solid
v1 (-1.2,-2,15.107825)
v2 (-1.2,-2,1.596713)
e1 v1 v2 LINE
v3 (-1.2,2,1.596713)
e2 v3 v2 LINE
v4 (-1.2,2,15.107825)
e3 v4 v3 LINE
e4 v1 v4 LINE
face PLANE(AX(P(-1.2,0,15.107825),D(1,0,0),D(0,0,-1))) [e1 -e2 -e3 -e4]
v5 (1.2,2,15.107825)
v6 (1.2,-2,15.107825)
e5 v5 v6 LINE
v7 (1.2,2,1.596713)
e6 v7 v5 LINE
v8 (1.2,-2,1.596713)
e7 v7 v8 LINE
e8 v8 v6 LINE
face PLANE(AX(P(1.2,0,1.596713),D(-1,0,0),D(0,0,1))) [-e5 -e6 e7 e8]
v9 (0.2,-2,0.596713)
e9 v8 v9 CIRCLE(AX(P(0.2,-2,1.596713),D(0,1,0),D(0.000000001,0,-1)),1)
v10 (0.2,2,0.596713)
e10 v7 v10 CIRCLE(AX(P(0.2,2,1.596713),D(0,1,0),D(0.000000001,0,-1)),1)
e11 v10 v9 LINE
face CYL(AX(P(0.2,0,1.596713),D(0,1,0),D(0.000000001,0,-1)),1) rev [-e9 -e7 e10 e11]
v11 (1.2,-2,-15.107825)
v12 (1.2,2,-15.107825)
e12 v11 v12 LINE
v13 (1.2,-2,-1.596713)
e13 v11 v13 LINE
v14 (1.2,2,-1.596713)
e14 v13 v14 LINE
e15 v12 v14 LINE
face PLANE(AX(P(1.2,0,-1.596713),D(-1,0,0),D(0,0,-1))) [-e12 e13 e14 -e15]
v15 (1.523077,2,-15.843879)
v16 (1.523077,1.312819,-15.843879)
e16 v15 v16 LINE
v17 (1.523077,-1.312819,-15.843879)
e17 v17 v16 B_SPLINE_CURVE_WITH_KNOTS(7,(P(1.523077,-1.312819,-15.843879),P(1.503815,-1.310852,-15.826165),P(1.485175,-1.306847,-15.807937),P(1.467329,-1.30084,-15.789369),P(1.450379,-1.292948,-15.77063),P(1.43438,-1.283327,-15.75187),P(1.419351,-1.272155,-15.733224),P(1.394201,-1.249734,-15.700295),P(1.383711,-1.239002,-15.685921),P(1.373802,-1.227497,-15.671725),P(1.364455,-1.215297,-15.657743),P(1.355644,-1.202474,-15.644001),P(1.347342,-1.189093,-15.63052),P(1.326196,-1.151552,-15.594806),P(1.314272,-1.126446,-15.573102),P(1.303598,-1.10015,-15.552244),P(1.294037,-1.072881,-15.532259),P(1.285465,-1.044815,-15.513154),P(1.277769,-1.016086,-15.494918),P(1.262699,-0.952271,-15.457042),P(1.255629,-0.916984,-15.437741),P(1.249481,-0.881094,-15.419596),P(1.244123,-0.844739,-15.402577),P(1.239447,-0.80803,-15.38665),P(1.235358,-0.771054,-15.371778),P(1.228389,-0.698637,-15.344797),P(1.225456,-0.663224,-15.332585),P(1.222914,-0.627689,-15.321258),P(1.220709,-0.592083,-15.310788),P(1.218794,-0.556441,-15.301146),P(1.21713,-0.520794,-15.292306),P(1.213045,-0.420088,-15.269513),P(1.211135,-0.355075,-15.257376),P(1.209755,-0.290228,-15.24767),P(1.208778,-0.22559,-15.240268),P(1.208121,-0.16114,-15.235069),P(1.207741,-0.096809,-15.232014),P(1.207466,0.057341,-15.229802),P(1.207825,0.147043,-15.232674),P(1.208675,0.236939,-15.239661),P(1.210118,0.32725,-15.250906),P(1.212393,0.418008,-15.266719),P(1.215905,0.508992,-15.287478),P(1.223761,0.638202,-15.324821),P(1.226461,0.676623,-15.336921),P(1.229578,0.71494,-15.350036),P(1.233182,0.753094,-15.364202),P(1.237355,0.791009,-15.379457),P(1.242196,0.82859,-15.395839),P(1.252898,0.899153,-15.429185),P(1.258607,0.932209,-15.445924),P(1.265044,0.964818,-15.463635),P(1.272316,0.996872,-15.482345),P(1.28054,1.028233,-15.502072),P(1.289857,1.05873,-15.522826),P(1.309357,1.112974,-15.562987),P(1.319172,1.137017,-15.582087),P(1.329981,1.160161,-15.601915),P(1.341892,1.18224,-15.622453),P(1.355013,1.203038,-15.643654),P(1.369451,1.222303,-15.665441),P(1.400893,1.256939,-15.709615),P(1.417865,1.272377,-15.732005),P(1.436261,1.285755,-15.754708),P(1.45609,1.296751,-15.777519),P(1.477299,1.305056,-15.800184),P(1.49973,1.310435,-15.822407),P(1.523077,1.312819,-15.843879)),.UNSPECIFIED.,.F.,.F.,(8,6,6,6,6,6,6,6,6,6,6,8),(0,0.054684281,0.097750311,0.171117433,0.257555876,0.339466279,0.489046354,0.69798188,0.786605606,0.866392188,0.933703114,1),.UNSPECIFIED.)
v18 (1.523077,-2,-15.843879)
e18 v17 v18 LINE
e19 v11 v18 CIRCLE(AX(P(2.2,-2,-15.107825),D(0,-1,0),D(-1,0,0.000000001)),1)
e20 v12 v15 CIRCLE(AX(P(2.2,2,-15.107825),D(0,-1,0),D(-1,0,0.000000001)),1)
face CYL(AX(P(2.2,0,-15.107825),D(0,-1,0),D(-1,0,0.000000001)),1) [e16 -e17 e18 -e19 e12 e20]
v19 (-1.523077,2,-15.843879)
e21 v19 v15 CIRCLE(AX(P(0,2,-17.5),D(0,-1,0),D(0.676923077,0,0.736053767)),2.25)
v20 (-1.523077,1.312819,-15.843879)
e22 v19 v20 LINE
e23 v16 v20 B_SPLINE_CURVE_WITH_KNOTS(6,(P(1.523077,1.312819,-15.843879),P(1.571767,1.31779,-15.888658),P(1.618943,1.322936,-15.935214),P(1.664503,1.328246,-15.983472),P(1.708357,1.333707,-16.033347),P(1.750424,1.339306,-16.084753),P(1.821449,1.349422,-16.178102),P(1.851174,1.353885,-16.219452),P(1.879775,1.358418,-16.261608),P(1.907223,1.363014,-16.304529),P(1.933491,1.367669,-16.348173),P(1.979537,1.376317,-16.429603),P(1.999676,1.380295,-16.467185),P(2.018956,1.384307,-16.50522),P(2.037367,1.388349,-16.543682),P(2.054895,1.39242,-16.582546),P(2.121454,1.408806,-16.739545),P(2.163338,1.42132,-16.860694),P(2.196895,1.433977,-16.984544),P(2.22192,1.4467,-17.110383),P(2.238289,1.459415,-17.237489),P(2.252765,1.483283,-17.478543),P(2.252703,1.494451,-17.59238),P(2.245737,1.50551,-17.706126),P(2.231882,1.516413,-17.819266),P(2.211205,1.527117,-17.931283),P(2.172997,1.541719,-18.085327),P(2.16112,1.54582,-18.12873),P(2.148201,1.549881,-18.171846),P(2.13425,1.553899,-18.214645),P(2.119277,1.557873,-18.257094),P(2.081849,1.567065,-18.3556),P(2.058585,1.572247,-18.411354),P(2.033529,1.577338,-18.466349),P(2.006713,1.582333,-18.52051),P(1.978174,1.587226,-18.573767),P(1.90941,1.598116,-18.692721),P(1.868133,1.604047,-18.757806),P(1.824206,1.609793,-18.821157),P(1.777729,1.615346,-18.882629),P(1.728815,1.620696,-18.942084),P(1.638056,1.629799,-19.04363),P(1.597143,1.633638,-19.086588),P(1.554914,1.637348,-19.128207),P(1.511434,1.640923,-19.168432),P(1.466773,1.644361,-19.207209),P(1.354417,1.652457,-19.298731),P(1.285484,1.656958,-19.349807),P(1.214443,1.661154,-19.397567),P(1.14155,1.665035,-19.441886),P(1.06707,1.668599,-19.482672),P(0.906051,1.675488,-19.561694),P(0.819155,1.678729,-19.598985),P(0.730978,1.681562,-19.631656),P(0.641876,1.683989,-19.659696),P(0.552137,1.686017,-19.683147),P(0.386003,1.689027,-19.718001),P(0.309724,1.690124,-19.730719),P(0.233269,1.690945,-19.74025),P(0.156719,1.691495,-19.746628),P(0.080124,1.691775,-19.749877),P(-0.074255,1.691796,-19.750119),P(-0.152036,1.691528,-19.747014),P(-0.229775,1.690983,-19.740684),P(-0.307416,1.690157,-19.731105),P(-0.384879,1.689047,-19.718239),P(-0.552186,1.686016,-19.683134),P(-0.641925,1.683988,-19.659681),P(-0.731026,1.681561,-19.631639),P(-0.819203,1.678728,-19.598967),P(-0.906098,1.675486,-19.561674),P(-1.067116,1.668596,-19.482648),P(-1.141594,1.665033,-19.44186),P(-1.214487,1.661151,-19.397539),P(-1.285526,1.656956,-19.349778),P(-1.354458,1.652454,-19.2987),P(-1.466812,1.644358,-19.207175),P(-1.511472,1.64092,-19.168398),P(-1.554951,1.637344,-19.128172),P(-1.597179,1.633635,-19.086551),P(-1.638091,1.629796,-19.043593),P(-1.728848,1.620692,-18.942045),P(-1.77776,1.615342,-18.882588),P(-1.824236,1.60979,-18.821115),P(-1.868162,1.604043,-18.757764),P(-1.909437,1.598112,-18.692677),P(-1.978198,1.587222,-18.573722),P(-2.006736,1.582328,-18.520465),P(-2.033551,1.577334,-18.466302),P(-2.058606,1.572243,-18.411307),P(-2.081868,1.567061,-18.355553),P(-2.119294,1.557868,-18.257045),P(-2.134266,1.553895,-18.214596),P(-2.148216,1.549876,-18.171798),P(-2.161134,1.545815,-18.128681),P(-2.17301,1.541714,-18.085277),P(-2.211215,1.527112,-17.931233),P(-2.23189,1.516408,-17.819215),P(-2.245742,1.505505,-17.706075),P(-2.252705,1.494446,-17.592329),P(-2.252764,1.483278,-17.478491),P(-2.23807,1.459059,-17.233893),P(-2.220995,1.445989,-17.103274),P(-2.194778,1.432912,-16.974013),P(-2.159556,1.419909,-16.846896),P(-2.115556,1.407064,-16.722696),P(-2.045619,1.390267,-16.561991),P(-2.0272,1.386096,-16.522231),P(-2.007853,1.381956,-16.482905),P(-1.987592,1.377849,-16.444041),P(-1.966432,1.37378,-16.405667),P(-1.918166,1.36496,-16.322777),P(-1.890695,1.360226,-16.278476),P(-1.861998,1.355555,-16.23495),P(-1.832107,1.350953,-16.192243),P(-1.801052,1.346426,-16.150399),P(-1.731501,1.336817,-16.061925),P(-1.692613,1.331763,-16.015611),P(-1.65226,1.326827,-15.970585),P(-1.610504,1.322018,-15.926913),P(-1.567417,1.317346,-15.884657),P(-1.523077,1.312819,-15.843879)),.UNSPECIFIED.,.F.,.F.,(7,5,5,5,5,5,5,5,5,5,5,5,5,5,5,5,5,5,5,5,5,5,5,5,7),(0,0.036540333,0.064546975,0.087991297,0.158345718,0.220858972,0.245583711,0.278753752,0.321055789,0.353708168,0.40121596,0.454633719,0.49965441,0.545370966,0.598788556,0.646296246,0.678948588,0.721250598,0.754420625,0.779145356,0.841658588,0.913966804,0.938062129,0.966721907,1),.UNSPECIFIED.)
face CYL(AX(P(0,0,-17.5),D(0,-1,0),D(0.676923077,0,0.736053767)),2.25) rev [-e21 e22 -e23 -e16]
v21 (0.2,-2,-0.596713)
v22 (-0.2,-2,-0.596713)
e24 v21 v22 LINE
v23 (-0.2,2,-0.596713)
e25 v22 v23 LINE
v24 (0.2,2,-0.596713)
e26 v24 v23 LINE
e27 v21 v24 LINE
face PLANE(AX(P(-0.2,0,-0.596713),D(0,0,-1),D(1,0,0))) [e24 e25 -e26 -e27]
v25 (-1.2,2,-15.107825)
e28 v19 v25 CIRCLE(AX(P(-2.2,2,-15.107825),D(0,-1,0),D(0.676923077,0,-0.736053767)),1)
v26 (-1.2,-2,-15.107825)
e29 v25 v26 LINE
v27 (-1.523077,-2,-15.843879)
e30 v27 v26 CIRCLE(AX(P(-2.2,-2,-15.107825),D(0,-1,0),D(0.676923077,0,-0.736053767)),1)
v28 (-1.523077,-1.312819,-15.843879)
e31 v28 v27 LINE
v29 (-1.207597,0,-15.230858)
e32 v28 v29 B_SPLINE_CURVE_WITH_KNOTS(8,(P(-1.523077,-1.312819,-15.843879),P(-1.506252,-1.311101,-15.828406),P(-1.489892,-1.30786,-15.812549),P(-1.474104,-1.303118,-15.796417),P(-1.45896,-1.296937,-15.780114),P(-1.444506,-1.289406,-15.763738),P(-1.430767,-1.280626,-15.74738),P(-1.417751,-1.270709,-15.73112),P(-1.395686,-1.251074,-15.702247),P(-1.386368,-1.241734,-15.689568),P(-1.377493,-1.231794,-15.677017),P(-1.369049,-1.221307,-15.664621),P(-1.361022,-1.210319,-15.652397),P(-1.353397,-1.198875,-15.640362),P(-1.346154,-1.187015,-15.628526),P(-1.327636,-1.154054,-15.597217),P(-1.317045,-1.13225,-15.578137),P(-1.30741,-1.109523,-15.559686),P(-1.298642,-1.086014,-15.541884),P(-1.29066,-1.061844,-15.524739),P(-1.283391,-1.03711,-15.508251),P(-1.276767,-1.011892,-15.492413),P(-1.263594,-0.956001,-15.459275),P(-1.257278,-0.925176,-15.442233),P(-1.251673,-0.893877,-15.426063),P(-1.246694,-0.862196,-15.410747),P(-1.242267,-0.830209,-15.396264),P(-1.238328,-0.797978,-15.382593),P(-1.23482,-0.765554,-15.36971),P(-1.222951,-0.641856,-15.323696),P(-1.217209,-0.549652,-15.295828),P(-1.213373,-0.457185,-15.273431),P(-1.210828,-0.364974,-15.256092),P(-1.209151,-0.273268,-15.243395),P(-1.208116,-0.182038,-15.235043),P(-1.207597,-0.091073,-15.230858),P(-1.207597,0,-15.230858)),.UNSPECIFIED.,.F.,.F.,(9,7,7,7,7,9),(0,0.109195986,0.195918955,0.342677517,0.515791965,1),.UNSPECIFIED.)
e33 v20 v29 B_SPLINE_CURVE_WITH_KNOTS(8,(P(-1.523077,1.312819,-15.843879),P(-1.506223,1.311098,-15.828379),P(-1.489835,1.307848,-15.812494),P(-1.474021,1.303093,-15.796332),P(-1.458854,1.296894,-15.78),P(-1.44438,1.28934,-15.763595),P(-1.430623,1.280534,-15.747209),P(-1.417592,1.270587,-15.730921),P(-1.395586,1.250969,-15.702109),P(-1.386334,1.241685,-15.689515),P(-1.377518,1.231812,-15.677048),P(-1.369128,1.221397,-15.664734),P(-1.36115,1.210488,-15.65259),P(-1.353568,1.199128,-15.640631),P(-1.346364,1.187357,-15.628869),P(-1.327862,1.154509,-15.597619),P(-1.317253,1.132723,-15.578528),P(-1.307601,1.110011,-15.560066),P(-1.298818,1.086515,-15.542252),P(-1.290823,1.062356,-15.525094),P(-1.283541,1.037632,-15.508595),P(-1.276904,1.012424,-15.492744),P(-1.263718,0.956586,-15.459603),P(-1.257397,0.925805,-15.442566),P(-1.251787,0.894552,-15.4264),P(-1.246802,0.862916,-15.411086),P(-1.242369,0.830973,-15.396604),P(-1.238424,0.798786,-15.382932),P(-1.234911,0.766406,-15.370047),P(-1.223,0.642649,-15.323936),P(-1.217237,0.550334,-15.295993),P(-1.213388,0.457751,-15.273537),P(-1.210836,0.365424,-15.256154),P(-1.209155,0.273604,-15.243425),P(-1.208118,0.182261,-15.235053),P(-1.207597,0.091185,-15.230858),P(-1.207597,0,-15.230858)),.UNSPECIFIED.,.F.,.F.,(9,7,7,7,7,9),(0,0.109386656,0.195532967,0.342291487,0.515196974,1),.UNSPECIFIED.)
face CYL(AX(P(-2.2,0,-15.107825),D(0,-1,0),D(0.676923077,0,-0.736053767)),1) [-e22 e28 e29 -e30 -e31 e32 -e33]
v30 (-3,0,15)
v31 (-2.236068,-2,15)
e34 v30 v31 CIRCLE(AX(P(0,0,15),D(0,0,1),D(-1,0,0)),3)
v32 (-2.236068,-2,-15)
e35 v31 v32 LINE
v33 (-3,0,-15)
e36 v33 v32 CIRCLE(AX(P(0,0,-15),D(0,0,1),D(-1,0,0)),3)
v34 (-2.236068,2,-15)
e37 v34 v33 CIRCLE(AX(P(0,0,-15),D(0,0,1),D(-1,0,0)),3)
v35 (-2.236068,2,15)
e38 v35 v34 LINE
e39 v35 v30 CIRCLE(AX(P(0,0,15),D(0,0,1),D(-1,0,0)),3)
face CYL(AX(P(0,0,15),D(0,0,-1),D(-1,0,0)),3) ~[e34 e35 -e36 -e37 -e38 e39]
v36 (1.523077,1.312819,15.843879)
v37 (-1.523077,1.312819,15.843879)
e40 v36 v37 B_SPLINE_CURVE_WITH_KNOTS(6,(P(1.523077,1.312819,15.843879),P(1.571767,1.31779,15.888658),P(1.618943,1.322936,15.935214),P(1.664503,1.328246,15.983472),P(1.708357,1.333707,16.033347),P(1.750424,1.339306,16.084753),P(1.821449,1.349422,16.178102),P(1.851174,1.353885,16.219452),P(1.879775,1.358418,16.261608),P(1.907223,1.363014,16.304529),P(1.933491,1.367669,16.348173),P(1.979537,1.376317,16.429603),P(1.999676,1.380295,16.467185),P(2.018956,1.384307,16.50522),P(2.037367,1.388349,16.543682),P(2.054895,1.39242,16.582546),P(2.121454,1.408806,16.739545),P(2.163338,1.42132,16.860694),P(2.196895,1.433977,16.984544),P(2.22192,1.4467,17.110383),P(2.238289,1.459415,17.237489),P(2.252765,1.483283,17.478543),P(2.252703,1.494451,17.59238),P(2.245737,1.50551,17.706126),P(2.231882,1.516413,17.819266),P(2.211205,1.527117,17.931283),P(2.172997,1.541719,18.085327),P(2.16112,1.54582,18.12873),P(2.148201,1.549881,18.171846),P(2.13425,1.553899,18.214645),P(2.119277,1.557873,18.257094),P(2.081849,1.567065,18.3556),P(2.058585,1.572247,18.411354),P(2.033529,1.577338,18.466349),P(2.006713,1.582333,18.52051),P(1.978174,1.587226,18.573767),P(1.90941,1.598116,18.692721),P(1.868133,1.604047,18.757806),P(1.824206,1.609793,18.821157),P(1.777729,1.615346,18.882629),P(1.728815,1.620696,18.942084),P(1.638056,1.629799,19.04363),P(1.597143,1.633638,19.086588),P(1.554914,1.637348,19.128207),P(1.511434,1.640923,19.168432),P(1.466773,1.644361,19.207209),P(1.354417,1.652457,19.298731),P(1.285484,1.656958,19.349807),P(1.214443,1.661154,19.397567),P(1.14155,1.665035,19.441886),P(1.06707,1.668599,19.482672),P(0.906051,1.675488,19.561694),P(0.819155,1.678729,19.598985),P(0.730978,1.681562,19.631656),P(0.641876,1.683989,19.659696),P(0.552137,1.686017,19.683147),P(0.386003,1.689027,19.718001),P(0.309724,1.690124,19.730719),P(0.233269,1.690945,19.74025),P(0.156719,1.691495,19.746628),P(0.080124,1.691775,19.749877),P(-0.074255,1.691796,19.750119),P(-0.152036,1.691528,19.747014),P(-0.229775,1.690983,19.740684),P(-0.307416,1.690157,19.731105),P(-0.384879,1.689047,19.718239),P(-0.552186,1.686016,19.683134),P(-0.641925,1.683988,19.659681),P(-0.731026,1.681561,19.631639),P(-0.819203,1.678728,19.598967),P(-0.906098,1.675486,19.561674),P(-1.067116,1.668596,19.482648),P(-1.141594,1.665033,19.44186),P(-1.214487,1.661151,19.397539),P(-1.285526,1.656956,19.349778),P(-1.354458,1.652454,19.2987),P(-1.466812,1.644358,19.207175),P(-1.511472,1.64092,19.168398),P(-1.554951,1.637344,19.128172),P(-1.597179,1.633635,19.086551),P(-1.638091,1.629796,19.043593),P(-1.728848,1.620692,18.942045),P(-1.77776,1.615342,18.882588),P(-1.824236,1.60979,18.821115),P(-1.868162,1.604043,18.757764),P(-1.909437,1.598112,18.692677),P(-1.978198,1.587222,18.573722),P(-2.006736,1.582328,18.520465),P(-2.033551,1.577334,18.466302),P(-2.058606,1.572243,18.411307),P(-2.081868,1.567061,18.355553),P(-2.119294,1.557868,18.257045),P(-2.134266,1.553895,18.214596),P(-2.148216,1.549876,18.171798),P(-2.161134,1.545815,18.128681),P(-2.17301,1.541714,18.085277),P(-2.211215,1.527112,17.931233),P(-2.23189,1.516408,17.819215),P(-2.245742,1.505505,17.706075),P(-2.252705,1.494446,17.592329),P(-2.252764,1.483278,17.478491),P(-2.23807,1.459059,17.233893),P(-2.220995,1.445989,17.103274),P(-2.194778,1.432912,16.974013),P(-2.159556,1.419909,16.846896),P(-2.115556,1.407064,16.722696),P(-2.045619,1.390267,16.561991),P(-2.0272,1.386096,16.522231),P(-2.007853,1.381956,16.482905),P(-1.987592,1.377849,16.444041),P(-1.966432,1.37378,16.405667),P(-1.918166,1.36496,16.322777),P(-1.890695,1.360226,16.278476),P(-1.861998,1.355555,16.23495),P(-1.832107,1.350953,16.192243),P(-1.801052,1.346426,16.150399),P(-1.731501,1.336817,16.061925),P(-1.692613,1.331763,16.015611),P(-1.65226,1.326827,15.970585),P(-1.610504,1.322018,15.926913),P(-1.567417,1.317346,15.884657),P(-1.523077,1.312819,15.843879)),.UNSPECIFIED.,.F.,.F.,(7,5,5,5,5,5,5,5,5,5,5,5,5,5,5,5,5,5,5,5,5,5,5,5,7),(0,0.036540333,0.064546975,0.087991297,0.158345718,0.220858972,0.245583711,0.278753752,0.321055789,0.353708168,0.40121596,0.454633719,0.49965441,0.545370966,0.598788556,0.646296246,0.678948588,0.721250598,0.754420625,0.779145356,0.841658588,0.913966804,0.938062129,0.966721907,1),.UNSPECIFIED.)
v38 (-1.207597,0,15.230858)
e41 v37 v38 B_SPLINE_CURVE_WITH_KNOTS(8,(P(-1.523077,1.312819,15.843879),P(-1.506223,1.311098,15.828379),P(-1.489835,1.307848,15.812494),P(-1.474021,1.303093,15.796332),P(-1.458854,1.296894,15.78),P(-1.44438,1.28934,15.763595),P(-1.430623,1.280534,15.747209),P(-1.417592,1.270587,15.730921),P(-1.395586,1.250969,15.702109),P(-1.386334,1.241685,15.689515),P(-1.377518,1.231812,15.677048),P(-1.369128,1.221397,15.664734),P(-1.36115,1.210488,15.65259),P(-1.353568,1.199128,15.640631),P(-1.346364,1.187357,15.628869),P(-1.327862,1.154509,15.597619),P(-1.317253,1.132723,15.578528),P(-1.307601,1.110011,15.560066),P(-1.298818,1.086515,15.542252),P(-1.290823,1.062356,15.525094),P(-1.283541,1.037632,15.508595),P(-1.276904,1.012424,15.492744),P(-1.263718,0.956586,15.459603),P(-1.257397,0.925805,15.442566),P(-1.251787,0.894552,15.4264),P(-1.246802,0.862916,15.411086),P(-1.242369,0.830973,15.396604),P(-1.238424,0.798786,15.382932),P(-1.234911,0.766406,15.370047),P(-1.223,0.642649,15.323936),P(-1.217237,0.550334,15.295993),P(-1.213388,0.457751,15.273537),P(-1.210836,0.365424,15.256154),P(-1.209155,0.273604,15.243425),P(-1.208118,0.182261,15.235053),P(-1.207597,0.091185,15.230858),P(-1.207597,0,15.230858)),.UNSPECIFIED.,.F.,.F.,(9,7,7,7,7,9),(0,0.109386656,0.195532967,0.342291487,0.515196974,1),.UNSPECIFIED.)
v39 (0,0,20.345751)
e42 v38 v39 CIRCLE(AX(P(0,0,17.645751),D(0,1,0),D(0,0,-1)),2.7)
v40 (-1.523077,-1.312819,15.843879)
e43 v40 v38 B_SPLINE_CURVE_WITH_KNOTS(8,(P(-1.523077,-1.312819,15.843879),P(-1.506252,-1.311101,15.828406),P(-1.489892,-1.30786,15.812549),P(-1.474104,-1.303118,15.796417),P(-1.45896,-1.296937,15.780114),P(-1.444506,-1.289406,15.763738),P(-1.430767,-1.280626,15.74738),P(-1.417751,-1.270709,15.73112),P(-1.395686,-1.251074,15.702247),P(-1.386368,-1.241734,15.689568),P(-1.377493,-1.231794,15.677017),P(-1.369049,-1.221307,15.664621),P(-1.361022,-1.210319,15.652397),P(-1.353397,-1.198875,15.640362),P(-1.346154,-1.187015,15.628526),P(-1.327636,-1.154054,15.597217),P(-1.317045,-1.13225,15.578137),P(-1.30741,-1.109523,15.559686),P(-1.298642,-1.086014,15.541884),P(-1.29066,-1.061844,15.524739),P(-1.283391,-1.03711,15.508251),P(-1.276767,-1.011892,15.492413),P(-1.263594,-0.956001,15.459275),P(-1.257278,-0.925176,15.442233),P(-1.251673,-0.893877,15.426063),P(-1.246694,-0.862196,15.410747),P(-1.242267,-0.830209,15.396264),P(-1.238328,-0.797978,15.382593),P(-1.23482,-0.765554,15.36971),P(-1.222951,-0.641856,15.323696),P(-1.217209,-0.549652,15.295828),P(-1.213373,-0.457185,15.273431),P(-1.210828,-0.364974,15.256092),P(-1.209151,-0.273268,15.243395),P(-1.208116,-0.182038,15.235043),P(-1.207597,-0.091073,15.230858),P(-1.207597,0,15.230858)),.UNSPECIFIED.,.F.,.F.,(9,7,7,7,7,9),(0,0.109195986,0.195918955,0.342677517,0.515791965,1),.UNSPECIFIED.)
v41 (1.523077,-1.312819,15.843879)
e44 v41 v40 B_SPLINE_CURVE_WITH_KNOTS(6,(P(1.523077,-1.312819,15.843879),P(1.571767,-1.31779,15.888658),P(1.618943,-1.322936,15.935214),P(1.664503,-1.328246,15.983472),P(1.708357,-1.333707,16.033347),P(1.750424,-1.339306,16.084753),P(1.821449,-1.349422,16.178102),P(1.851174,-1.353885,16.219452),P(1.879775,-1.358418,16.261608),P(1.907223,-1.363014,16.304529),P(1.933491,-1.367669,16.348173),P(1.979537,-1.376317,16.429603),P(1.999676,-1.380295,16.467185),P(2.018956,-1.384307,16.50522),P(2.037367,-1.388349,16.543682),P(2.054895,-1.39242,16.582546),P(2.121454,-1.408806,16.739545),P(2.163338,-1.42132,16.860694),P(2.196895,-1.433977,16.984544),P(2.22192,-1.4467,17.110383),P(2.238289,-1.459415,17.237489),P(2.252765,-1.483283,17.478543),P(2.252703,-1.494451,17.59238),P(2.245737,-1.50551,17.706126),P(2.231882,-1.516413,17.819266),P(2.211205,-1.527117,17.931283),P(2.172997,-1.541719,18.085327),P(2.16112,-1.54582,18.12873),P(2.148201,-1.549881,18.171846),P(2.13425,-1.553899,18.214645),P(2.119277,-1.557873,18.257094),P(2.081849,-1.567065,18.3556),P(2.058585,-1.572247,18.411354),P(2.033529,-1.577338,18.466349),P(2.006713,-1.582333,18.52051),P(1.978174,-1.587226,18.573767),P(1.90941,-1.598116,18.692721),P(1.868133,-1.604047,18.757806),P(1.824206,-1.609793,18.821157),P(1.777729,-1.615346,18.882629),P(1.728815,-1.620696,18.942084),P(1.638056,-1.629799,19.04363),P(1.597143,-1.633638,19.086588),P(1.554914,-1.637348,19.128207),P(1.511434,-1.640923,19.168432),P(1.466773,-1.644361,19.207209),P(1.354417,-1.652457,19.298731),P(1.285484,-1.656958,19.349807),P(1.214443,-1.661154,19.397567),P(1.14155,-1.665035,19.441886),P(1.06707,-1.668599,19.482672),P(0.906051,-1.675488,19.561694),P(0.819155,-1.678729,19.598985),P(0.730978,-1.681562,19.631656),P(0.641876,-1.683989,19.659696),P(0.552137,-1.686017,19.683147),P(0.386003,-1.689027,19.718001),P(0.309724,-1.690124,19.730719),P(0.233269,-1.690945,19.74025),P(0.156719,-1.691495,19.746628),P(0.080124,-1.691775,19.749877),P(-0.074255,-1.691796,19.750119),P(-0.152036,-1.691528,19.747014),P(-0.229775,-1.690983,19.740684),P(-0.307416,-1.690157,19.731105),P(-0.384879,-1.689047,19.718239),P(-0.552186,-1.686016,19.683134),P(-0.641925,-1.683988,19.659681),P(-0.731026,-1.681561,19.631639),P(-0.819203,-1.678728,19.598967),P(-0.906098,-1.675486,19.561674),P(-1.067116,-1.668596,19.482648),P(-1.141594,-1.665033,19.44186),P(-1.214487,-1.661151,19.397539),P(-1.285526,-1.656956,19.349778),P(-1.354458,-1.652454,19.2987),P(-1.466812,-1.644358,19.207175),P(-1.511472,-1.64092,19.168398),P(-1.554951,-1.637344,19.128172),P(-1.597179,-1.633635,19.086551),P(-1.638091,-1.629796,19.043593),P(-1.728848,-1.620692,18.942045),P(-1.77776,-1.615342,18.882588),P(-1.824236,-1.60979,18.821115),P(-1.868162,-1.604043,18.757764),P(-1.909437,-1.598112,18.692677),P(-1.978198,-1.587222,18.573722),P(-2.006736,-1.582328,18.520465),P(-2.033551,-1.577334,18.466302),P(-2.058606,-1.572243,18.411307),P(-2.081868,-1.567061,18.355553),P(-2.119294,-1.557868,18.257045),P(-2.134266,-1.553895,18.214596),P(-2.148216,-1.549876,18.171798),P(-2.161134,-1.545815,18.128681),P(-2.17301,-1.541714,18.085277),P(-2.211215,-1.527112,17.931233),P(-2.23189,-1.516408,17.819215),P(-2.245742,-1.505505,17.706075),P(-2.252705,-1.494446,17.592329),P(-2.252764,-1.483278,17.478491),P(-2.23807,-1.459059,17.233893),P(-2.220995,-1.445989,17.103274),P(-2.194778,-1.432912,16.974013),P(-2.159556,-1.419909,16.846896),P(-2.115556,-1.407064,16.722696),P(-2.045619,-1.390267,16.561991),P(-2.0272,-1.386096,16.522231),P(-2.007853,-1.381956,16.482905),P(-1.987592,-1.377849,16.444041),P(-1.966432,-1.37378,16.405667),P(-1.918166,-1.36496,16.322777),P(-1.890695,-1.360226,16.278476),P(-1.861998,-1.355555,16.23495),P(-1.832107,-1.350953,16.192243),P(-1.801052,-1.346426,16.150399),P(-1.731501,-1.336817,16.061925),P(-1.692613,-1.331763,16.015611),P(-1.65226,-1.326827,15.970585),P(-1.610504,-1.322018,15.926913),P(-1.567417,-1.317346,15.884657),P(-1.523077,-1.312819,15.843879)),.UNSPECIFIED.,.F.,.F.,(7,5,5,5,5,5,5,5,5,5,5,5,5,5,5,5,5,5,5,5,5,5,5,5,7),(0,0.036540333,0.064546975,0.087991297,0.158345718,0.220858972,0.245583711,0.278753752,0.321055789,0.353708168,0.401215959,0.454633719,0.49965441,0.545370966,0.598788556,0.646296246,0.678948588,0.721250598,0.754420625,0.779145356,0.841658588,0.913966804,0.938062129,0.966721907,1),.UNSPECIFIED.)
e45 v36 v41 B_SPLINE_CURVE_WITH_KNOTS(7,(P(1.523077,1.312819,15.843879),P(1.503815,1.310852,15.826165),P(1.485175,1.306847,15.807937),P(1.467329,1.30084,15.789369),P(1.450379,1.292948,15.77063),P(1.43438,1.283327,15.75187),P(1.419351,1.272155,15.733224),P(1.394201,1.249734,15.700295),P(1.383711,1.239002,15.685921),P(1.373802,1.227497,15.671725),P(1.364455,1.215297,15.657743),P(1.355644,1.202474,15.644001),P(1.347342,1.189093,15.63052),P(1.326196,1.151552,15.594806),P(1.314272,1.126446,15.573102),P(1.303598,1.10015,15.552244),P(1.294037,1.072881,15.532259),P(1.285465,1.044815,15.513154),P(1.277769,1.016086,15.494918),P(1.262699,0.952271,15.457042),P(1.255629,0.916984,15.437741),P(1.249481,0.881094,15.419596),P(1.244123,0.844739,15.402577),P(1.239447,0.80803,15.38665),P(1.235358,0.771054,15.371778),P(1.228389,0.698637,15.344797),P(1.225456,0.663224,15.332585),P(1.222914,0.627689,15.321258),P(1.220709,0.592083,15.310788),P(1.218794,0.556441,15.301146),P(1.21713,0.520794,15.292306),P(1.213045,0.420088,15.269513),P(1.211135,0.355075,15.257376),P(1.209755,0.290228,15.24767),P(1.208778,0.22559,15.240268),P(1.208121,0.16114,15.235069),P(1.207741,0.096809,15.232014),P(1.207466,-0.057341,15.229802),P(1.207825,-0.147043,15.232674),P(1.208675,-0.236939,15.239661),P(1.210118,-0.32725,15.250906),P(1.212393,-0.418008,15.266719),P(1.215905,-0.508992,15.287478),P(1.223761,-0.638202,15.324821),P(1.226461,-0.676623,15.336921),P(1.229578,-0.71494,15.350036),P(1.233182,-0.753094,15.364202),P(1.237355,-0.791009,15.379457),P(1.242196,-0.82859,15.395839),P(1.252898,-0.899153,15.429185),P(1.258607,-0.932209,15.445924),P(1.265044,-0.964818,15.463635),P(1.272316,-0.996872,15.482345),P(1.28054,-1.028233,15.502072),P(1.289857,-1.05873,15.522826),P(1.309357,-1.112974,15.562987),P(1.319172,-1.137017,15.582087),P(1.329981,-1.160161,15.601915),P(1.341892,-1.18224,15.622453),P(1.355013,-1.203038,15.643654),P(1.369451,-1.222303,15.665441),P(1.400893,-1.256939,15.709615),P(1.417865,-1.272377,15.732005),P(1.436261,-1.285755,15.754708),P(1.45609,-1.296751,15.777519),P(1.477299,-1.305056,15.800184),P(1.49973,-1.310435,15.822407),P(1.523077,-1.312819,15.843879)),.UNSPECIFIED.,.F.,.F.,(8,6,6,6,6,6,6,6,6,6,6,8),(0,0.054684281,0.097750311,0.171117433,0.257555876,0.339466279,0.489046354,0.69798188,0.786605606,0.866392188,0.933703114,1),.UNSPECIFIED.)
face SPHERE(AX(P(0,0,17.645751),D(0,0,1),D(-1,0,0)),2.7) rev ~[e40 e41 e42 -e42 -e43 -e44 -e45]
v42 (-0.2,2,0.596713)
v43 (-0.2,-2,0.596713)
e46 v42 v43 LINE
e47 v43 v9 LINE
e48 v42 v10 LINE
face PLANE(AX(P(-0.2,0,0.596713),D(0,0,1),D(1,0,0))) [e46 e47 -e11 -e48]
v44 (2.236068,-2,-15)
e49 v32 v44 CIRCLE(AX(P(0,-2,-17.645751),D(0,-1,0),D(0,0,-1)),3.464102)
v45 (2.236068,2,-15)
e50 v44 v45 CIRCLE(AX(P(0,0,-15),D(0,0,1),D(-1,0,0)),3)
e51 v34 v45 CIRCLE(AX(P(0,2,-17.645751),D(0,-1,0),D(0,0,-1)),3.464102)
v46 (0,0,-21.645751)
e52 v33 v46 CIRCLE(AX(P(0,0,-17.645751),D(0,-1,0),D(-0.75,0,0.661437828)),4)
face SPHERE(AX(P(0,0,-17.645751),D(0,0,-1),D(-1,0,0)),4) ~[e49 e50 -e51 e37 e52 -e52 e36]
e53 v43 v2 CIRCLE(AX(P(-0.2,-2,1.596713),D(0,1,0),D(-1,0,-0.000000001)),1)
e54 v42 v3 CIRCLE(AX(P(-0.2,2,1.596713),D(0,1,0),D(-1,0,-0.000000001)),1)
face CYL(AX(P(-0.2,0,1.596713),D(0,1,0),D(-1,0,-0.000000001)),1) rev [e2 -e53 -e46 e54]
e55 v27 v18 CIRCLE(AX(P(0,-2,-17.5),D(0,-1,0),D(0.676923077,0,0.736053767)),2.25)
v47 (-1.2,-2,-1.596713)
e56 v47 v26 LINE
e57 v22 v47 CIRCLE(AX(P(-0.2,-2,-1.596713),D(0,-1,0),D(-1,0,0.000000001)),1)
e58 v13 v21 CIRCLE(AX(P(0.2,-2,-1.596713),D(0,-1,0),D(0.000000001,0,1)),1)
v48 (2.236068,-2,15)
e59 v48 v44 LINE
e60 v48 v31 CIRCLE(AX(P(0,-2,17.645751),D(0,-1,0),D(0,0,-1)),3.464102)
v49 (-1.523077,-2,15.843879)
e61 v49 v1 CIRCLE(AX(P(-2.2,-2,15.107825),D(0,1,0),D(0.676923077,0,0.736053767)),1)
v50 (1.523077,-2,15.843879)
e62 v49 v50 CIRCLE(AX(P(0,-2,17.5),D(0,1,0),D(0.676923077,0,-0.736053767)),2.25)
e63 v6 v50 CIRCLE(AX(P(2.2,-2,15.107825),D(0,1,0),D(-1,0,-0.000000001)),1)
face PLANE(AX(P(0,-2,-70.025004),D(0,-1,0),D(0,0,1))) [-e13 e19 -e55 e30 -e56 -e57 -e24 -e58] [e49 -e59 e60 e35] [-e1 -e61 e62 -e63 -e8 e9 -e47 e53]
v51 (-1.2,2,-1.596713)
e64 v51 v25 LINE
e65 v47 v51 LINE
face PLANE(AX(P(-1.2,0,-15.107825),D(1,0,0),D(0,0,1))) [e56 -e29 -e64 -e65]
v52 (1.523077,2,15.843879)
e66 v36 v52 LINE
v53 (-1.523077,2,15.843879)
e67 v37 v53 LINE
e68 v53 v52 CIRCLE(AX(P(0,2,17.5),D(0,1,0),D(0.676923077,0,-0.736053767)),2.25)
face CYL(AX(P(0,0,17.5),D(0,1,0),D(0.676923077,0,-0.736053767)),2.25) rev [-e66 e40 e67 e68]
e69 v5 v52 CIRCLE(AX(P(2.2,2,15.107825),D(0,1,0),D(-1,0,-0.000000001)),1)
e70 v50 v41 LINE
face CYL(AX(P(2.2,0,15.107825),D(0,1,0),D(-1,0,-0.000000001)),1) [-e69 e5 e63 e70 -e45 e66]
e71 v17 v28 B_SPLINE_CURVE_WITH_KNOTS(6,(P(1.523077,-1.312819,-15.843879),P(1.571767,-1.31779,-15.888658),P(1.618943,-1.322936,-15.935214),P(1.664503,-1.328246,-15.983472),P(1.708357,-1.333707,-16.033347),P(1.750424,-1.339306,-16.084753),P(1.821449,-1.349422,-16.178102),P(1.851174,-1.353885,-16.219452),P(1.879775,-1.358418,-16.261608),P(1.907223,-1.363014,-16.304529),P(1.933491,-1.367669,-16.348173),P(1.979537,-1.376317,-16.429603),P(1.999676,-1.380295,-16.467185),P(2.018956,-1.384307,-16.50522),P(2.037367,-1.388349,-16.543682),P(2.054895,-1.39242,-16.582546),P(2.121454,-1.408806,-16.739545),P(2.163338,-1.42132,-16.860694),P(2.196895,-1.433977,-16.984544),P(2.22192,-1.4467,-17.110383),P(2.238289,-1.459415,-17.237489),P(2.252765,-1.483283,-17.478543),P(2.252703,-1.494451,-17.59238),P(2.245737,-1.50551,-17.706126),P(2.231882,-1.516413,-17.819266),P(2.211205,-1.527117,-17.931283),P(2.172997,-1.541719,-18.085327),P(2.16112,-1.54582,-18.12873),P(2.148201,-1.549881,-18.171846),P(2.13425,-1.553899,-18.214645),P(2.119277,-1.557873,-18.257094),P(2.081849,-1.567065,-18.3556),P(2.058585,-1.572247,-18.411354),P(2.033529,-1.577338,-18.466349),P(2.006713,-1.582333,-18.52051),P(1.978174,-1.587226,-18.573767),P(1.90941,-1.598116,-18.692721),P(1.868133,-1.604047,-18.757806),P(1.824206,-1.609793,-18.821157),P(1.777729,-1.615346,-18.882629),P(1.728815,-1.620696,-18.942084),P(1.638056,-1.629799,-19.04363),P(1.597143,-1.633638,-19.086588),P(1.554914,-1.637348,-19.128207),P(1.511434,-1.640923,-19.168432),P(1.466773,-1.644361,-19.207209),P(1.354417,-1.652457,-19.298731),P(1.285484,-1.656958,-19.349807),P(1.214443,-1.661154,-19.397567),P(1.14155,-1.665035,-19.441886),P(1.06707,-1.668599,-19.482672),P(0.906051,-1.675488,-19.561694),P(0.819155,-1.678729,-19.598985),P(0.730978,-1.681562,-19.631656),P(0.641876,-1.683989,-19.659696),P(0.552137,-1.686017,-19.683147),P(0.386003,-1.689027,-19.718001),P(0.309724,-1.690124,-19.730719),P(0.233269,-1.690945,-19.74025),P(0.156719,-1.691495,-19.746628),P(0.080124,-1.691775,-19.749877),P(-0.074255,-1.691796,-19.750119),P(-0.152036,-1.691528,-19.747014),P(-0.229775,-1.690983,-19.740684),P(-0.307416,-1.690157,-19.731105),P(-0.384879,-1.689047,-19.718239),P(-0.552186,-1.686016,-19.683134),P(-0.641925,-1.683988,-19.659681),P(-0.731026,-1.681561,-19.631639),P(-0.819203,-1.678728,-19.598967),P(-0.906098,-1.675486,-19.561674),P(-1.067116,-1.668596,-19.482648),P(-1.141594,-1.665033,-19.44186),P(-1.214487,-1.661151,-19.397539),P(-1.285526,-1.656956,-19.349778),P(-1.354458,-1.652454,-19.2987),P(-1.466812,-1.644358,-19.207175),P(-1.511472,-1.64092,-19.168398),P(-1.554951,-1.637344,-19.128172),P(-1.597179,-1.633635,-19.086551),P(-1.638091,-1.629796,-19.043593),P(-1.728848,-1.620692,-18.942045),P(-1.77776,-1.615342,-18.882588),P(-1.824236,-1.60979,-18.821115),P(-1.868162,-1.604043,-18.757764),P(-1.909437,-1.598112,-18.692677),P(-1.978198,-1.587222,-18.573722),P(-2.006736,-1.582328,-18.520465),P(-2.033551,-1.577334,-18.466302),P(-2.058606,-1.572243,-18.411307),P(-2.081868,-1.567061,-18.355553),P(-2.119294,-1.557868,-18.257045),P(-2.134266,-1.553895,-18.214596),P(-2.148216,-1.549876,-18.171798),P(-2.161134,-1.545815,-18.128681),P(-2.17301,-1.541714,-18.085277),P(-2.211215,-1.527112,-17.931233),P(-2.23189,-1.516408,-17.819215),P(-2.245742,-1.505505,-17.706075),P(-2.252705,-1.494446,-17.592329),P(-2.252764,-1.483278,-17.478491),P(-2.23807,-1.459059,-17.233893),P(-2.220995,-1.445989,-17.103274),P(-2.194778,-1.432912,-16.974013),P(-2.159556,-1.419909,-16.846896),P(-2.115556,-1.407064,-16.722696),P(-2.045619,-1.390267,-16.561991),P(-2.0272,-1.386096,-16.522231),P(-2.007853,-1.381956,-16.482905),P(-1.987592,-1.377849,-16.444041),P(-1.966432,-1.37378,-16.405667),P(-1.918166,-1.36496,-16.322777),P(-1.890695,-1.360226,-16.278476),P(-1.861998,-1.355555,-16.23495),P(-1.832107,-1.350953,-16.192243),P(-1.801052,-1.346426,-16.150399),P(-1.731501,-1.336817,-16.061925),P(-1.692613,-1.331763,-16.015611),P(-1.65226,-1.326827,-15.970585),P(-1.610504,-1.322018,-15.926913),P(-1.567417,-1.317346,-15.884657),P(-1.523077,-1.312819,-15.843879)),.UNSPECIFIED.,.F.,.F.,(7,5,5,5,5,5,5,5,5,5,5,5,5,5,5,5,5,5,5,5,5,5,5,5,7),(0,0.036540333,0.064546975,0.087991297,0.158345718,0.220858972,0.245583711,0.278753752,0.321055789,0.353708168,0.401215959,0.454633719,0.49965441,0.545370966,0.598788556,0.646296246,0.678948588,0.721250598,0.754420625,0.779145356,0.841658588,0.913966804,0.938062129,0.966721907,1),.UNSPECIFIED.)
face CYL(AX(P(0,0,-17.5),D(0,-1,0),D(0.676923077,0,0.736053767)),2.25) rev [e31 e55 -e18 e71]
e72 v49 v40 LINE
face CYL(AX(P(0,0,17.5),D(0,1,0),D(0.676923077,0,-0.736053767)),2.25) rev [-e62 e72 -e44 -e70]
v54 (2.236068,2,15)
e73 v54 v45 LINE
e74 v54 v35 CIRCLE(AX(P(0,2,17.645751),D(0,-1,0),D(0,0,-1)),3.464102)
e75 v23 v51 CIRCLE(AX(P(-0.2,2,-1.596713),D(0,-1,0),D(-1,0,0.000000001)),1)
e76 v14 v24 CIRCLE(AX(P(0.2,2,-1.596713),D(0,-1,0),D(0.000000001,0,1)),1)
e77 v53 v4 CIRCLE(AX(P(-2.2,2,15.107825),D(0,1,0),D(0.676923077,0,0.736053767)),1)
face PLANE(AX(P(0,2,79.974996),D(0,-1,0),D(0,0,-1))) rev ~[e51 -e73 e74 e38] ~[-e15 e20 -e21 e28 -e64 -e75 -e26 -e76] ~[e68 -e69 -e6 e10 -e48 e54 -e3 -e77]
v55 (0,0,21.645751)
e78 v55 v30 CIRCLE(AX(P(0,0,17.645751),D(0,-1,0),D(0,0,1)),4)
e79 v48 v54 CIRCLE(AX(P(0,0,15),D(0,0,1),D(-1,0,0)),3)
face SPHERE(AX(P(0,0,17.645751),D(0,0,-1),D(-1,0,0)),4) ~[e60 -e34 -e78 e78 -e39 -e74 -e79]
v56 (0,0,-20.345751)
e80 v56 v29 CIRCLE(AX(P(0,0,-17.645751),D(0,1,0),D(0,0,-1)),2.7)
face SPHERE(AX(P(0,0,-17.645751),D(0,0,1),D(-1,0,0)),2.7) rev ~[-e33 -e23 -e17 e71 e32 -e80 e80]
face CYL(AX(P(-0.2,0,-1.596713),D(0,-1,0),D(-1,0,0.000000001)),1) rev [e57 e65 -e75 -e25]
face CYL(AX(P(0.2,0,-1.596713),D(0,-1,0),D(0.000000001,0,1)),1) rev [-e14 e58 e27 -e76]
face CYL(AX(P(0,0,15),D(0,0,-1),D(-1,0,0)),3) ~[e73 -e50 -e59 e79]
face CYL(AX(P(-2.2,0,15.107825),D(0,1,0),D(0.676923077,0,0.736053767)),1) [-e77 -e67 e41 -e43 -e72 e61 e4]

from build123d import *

# Parameters (mm, degrees)
CUT_EXTRUDE1_DEPTH = 30
CUT_EXTRUDE2_DEPTH = 30


with BuildPart() as part:
    # Sketch1 → Revolve1 (revolve)
    with BuildSketch(Plane(origin=(0, 0, 0), x_dir=(1, 0, 0), z_dir=(0, 1, 0))):
        with BuildLine():
            Line((-3, -15), (-3, 15))
            ThreePointArc((-3, 15), (-3.645751311, 19.291502622), (0, 21.645751311))
            Line((0, 21.645751311), (0, 20.345751311))
            ThreePointArc((0, 20.345751311), (-2.7, 17.645751311), (0, 14.945751311))
            Line((0, 14.945751311), (0, 13.645751311))
            Line((0, 13.645751311), (0, -13.645751311))
            Line((0, -13.645751311), (0, -14.945751311))
            ThreePointArc((0, -14.945751311), (-2.7, -17.645751311), (0, -20.345751311))
            Line((0, -20.345751311), (0, -21.645751311))
            ThreePointArc((0, -21.645751311), (-3.645751311, -19.291502622), (-3, -15))
        make_face()
    revolve(axis=Axis((0, 0, -91.394122854), (0, 0, 1)))

    # Sketch2 → Cut-Extrude1 (cut, symmetric)
    with BuildSketch(Plane(origin=(0, 0, 0), x_dir=(1, 0, 0), z_dir=(0, 1, 0))):
        with BuildLine():
            Line((-1.2, 15.107825257), (-1.2, 1.596713369))
            ThreePointArc((-1.2, 1.596713369), (-0.907106781, 0.889606588), (-0.2, 0.596713369))
            Line((-0.2, 0.596713369), (0.2, 0.596713369))
            ThreePointArc((0.2, 0.596713369), (0.907106781, 0.889606588), (1.2, 1.596713369))
            Line((1.2, 1.596713369), (1.2, 15.107825257))
            ThreePointArc((1.2, 15.107825257), (1.284324545, 15.509743733), (1.523076923, 15.843879024))
            ThreePointArc((1.523076923, 15.843879024), (0, 19.75), (-1.523076923, 15.843879024))
            ThreePointArc((-1.523076923, 15.843879024), (-1.284324545, 15.509743733), (-1.2, 15.107825257))
        make_face()
        with BuildLine():
            Line((-1.2, -15.107825257), (-1.2, -1.596713369))
            ThreePointArc((-1.2, -1.596713369), (-0.907106781, -0.889606588), (-0.2, -0.596713369))
            Line((-0.2, -0.596713369), (0.2, -0.596713369))
            ThreePointArc((0.2, -0.596713369), (0.907106781, -0.889606588), (1.2, -1.596713369))
            Line((1.2, -1.596713369), (1.2, -15.107825257))
            ThreePointArc((1.2, -15.107825257), (1.284324545, -15.509743733), (1.523076923, -15.843879024))
            ThreePointArc((1.523076923, -15.843879024), (0, -19.75), (-1.523076923, -15.843879024))
            ThreePointArc((-1.523076923, -15.843879024), (-1.284324545, -15.509743733), (-1.2, -15.107825257))
        make_face()
    extrude(amount=CUT_EXTRUDE1_DEPTH, both=True, mode=Mode.SUBTRACT)

    # Sketch3 → Cut-Extrude2 (cut, symmetric)
    with BuildSketch(Plane(origin=(0, 0, 0), x_dir=(0, 0, -1), z_dir=(1, 0, 0))):
        Polygon((0, -2), (70.025003907, -2), (70.025003907, -4), (-79.974996093, -4), (-79.974996093, -2), align=None)
        Polygon((0, 2), (70.025003907, 2), (70.025003907, 4), (-79.974996093, 4), (-79.974996093, 2), align=None)
    extrude(amount=CUT_EXTRUDE2_DEPTH, both=True, mode=Mode.SUBTRACT)


solid = part.part
